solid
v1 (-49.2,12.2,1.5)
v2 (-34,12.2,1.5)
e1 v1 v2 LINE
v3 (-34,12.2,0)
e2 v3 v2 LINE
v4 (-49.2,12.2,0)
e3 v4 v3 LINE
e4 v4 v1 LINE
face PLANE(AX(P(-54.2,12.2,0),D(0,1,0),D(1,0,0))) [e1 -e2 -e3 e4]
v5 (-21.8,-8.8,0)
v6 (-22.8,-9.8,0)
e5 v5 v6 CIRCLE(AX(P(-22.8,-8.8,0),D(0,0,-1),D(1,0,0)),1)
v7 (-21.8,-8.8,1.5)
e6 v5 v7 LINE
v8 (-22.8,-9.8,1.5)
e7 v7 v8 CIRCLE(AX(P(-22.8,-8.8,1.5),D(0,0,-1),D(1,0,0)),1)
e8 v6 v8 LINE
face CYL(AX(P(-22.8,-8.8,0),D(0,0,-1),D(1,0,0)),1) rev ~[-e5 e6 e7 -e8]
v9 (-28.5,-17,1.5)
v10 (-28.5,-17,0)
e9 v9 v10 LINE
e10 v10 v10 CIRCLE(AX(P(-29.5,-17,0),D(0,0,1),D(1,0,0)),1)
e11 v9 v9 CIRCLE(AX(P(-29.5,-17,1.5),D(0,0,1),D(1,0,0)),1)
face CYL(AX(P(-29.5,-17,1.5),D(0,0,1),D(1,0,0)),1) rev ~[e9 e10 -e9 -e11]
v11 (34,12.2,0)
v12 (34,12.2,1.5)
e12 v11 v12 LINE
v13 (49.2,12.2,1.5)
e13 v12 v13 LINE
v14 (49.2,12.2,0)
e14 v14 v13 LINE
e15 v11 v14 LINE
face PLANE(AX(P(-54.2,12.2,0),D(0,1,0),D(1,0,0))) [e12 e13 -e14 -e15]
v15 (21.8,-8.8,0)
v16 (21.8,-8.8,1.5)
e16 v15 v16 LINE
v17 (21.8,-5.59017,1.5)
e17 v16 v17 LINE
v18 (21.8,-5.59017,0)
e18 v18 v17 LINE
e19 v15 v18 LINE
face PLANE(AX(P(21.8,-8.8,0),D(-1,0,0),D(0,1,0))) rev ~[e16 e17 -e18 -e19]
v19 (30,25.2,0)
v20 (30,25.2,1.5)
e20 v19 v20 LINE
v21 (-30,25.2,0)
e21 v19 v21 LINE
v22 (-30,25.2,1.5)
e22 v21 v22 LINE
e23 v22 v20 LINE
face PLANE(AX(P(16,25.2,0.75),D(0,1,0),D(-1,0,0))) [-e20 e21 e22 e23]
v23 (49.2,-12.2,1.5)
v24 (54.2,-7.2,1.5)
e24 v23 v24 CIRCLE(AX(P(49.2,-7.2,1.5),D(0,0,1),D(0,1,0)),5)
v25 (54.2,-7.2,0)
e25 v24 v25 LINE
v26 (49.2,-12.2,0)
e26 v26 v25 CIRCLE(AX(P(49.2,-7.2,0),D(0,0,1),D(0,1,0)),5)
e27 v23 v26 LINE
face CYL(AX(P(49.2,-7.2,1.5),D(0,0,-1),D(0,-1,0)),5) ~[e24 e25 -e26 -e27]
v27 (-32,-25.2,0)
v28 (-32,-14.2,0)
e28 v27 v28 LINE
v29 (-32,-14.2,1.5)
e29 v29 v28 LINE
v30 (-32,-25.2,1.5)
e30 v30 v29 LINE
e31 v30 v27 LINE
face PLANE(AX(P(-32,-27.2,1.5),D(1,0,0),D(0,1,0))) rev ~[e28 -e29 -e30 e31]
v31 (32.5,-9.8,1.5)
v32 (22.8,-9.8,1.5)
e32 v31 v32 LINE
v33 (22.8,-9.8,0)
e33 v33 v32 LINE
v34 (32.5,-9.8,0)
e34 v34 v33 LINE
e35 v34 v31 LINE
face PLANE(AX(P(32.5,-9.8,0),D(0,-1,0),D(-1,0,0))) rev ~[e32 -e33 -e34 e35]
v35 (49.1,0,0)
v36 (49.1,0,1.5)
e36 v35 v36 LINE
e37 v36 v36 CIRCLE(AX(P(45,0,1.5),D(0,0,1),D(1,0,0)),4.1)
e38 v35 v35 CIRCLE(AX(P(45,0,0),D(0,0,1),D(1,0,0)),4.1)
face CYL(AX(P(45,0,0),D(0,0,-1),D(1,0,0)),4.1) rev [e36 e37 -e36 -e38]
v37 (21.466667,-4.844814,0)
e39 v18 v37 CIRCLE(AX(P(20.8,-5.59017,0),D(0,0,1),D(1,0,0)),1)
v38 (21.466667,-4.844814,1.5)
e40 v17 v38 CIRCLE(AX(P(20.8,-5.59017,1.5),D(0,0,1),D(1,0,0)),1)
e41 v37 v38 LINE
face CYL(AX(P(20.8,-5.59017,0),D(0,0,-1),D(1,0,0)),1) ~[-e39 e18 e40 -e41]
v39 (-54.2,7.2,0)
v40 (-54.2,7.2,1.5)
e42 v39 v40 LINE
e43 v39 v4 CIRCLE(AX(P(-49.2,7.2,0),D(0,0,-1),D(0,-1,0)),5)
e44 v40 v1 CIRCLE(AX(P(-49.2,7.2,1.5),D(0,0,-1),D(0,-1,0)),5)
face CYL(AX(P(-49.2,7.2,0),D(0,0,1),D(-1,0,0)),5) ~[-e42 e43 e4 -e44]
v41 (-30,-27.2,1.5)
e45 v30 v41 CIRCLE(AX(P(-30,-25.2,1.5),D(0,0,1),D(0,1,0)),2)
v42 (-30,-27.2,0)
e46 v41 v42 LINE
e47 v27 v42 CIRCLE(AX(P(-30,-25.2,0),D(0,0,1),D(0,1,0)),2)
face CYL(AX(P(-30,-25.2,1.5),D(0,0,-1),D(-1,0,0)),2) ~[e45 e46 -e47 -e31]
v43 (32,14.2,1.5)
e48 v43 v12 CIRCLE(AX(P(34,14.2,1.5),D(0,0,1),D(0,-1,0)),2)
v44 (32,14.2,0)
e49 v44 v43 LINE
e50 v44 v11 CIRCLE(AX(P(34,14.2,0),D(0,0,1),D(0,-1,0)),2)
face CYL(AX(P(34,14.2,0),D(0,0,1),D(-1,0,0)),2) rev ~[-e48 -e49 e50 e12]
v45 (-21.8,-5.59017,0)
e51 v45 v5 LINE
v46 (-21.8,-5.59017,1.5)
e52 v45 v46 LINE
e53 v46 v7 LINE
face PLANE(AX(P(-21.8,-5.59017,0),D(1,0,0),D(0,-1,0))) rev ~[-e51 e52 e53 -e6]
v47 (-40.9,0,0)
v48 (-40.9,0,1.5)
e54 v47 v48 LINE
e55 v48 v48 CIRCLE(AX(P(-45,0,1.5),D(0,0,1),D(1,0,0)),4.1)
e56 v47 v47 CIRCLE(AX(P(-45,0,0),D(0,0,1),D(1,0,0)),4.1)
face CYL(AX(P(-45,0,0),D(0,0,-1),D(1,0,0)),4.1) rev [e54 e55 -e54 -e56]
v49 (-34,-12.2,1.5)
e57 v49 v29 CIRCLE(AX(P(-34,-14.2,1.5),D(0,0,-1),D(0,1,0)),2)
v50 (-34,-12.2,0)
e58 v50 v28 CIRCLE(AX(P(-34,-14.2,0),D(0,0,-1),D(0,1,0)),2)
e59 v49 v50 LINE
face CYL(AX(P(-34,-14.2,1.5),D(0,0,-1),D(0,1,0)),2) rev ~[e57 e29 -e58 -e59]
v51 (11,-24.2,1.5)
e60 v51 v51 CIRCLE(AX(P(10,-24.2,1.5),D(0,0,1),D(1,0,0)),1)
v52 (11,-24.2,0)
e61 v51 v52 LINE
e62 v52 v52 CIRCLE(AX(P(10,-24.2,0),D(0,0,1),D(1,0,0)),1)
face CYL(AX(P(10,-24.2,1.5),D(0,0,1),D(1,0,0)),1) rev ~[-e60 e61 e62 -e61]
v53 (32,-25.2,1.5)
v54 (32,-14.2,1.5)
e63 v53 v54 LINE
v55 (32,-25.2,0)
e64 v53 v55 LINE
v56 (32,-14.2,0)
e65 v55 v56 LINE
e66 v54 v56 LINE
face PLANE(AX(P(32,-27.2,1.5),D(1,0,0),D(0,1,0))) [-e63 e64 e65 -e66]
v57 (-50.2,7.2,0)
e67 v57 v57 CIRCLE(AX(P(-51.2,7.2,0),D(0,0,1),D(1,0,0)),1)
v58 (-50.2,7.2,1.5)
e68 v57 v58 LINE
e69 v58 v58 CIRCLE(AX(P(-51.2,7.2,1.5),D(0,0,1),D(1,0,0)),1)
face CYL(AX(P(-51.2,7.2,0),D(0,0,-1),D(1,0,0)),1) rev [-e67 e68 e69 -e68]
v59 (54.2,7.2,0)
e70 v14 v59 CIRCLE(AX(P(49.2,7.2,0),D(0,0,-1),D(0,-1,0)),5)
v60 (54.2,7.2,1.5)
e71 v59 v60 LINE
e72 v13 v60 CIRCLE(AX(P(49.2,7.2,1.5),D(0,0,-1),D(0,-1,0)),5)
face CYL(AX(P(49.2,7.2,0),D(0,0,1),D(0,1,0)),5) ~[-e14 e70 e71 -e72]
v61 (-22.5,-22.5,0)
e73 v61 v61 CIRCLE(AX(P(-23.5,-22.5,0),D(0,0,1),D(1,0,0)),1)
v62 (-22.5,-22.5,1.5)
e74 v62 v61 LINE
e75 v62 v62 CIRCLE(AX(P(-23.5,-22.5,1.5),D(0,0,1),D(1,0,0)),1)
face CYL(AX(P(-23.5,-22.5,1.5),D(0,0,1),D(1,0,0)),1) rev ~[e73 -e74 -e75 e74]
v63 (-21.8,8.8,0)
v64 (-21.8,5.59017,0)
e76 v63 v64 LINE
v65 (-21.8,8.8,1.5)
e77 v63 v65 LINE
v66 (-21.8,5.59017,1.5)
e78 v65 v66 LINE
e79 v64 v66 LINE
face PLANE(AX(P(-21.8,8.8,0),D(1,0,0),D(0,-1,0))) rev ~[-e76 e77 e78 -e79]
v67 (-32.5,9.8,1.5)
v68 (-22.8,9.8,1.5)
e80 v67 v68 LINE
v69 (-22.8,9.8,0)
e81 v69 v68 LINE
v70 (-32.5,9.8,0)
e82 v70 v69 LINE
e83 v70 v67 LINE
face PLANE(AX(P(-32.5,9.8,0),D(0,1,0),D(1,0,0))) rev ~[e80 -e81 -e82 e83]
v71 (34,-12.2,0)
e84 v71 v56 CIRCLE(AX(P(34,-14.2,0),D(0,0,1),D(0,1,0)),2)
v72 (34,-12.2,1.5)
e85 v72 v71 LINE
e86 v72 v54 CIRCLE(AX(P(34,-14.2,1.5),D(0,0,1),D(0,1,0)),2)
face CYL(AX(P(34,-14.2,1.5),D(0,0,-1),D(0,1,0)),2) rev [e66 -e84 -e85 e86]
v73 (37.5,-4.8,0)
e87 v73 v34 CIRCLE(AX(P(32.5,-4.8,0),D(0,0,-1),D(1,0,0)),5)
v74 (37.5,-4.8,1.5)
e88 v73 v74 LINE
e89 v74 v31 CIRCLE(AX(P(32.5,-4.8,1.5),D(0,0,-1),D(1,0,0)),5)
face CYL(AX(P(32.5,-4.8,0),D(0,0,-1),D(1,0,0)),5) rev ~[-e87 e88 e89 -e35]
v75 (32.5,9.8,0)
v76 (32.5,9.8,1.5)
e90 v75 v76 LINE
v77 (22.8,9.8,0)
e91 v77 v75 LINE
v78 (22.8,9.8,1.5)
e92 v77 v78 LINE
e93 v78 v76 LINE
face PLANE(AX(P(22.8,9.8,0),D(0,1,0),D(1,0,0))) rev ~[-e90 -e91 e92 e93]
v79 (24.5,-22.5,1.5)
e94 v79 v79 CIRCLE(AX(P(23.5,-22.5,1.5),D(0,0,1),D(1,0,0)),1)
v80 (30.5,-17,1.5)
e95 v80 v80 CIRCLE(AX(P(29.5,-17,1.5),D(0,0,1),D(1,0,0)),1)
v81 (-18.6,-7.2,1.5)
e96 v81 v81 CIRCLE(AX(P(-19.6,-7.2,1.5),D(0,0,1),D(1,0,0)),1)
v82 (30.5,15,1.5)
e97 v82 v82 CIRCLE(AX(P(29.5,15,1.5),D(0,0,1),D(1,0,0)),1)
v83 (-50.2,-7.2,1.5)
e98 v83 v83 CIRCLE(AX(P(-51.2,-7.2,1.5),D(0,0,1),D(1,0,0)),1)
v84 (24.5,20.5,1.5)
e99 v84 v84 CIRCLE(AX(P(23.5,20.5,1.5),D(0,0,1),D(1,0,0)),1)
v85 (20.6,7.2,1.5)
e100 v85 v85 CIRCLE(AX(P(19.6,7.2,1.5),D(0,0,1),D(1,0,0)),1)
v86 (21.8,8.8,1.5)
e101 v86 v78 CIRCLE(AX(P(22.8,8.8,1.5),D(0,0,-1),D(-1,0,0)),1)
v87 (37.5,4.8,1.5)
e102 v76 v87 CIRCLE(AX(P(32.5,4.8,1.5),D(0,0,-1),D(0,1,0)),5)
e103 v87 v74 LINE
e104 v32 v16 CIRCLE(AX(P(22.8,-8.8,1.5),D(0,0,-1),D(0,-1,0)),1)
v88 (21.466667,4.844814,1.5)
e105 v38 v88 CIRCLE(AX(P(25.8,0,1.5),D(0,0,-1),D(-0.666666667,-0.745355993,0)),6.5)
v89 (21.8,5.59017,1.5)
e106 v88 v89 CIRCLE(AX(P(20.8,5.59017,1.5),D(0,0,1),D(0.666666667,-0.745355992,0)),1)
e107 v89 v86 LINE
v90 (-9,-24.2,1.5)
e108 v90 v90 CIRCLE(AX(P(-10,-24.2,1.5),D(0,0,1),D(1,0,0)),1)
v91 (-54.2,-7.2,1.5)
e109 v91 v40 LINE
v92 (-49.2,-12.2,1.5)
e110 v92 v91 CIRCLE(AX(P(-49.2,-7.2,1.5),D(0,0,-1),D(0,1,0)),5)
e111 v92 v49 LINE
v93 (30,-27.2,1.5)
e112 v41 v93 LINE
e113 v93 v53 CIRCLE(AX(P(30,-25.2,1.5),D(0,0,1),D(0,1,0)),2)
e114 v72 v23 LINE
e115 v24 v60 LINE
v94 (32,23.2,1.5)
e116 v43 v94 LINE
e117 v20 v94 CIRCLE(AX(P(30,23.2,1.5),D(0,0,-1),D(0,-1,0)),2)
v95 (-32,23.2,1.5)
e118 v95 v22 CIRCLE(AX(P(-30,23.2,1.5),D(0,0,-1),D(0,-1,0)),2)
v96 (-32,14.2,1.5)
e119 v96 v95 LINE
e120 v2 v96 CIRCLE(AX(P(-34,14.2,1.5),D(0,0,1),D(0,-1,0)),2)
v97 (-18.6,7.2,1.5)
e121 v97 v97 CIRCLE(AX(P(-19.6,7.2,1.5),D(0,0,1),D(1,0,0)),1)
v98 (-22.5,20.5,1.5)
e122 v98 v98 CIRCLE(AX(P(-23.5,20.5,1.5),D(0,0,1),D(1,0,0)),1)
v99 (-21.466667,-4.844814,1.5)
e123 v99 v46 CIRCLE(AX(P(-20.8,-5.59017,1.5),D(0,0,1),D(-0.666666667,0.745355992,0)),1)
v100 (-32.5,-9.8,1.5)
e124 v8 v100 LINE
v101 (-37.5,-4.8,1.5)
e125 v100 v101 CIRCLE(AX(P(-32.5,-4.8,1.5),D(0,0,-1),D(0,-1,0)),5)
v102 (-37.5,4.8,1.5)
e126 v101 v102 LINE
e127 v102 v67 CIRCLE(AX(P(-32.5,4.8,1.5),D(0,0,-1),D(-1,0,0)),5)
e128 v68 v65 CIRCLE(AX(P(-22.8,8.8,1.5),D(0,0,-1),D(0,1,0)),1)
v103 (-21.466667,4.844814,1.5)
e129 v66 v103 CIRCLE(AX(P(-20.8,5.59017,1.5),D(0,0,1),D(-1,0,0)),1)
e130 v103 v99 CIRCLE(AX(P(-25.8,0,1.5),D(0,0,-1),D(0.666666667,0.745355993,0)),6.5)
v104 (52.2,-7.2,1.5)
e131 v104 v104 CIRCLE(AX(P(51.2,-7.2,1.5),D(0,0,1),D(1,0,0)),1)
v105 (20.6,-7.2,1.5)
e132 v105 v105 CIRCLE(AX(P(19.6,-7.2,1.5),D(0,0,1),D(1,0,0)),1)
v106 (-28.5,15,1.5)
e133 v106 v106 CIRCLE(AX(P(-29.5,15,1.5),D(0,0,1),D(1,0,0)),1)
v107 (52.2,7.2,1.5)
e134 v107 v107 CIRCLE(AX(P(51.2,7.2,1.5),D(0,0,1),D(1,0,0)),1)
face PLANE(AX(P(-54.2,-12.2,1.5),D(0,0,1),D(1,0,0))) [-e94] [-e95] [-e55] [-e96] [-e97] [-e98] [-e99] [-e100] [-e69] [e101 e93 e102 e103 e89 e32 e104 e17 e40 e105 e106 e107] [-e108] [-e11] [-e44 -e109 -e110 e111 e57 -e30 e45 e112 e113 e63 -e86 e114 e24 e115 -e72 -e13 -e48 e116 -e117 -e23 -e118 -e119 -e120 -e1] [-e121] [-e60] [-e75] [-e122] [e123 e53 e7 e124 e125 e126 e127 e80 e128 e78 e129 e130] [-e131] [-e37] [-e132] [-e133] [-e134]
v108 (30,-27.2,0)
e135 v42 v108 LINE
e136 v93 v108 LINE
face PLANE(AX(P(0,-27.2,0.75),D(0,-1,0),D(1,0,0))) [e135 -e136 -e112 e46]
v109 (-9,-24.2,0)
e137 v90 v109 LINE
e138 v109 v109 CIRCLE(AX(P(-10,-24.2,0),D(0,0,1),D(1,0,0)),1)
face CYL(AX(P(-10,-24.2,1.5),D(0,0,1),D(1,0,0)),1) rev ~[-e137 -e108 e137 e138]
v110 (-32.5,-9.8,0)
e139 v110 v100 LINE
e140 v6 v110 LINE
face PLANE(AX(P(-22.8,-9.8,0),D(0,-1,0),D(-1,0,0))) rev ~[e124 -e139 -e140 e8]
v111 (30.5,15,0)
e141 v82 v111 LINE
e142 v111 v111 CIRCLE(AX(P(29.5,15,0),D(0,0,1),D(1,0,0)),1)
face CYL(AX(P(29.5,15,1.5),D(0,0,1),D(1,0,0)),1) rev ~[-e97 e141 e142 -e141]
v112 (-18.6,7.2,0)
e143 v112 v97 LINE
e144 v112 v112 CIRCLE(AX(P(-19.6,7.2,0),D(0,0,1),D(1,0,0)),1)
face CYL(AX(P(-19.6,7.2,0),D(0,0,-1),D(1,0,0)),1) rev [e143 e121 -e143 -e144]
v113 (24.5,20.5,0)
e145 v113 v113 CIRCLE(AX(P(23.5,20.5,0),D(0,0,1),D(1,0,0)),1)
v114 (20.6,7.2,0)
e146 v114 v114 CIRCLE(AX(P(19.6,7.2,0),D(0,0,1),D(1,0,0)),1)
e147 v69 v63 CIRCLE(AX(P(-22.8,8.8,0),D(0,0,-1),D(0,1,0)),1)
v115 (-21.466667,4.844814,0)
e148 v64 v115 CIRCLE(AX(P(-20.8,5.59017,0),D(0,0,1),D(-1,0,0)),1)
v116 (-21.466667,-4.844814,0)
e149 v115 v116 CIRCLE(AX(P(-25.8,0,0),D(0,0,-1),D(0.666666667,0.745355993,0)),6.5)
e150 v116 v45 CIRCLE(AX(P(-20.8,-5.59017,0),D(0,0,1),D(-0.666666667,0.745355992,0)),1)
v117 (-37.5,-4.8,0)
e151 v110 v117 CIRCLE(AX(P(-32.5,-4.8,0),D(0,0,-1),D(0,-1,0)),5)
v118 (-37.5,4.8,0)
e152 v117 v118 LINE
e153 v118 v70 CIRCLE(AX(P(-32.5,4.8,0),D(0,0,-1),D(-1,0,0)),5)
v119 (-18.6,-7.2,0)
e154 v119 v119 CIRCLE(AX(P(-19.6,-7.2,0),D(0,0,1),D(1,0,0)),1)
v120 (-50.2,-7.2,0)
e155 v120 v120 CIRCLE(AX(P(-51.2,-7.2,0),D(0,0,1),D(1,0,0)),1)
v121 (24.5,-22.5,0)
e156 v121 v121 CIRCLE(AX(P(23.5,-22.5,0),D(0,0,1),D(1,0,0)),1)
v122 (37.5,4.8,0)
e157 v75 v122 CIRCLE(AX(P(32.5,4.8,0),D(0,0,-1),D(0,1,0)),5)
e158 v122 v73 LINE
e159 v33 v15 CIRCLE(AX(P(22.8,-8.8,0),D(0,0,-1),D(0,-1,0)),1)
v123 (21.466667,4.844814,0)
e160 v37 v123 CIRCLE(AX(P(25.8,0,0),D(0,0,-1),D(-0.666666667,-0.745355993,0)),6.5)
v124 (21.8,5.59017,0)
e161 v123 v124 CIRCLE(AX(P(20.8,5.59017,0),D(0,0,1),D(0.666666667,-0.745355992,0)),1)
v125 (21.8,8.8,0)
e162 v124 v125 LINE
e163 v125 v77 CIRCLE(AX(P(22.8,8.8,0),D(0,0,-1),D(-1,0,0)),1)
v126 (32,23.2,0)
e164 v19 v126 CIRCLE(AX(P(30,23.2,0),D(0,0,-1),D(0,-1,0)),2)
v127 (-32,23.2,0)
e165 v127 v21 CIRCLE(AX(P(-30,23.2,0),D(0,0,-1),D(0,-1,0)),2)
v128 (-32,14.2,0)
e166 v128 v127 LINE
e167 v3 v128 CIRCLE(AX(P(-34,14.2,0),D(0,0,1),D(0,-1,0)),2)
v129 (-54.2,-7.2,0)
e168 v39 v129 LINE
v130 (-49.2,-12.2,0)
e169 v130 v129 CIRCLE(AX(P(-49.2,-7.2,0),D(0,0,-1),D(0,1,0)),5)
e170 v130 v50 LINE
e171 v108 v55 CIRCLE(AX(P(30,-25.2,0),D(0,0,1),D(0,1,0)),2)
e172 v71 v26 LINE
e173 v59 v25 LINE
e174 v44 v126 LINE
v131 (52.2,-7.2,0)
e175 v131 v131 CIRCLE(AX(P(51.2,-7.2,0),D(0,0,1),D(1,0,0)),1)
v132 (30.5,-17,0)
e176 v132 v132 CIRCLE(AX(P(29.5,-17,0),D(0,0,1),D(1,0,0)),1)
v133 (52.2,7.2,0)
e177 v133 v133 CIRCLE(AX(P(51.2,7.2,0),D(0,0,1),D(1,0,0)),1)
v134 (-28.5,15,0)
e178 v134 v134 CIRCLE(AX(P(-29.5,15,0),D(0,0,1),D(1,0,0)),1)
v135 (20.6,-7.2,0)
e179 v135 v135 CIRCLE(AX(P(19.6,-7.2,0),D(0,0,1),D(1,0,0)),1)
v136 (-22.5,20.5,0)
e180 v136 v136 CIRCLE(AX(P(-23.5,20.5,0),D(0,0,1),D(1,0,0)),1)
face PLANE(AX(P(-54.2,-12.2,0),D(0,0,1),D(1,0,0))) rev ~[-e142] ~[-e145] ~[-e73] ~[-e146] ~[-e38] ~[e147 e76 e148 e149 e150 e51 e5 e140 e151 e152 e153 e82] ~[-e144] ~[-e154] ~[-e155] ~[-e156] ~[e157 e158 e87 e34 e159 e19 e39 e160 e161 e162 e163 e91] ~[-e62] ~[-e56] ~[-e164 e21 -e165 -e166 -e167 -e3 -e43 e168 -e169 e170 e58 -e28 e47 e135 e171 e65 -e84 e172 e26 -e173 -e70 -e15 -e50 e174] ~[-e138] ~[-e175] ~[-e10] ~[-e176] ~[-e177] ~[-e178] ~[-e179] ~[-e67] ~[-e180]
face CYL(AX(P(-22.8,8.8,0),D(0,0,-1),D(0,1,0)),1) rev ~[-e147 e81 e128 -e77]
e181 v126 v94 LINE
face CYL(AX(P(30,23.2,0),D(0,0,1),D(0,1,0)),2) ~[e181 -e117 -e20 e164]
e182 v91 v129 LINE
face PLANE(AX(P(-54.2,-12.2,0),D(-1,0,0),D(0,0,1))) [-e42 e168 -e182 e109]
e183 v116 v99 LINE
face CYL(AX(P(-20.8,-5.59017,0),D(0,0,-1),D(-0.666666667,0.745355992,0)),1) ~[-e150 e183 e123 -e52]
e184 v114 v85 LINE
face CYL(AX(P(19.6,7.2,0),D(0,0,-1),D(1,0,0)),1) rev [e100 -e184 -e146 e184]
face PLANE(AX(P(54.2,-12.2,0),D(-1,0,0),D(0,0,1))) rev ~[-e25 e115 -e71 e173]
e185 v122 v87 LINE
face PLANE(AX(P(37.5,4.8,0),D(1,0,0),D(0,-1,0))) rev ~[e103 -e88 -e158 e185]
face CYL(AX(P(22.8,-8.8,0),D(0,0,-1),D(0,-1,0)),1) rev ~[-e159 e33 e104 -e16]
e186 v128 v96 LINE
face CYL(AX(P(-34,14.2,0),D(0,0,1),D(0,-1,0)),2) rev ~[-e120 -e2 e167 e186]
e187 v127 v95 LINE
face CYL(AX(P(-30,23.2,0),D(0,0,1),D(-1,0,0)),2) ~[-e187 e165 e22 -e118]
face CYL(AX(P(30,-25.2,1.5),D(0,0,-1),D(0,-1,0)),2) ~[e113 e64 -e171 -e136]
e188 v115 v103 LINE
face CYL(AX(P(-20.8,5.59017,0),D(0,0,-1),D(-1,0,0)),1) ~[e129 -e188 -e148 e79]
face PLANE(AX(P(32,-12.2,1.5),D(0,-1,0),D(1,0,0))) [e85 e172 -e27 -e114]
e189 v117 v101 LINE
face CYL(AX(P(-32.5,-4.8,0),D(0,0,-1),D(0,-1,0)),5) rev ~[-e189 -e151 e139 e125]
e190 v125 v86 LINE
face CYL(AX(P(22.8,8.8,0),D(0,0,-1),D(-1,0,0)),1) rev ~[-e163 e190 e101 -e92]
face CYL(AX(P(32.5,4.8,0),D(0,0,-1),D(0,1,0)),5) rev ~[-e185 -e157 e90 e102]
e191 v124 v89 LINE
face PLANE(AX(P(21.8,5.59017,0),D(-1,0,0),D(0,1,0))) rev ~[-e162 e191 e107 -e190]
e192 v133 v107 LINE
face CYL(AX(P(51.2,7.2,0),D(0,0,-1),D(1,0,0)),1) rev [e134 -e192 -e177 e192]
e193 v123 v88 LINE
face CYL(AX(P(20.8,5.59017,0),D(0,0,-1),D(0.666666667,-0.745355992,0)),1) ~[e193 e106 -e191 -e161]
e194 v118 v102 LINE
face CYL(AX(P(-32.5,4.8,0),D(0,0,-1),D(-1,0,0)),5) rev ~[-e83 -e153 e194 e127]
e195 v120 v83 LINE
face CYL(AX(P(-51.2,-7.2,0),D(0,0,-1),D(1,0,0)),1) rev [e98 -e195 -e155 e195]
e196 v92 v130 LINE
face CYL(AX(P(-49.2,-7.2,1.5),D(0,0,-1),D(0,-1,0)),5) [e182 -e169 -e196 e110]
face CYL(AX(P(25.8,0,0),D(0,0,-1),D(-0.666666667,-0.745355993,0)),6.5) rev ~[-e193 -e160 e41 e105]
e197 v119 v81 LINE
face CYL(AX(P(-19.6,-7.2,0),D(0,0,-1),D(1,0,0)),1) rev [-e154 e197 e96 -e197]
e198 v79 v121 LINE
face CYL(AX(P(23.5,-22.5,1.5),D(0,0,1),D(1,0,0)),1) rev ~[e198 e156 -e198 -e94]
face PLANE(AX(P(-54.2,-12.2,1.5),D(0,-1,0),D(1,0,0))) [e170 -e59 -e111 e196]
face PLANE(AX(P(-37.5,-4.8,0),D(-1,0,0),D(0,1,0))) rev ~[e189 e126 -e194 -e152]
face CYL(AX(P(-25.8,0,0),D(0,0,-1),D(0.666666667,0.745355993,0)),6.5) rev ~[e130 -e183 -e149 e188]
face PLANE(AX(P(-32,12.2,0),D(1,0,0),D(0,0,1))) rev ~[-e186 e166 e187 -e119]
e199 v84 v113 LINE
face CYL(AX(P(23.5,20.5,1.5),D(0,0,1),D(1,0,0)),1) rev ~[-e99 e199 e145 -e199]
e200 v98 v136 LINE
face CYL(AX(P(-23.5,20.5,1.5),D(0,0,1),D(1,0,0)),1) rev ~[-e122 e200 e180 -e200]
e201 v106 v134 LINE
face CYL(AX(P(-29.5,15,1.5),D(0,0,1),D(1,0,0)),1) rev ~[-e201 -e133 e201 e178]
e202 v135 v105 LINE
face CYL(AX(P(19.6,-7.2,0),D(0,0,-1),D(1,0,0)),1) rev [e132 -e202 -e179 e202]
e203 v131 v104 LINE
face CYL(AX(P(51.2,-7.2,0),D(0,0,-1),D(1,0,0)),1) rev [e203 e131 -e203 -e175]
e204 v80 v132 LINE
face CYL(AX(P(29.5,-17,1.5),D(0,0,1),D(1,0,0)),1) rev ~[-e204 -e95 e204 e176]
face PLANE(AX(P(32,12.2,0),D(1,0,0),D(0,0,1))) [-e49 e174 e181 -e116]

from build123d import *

# Parameters (mm, degrees)
F0_W      = 108.4
F0_H      = 24.4
F0_R      = 1
F0_R_2    = 4.1
F1_DEPTH  = 1.5
F2_W      = 108.4
F2_H      = 1.5
F3_DEPTH  = 15
F4_W      = 22.2
F4_H      = 15
F5_DEPTH  = 1.5
F7_R      = 2
F8_R      = 5
F9_W      = 32
F9_H      = 1.5
F10_DEPTH = 13
F6_R      = 1
F11_DEPTH = 1.5
F12_R     = 1
F13_DEPTH = 1.5
F14_R     = 2


with BuildPart() as f1:
    # F0 (on Top) → F1 (new body)
    with BuildSketch(Plane.XY):
        Rectangle(F0_W, F0_H)
        with Locations((-51.2, -7.2)):
            Circle(F0_R, mode=Mode.SUBTRACT)
        with Locations((-19.6, -7.2)):
            Circle(F0_R, mode=Mode.SUBTRACT)
        with Locations((19.6, -7.2)):
            Circle(F0_R, mode=Mode.SUBTRACT)
        with Locations((51.2, -7.2)):
            Circle(F0_R, mode=Mode.SUBTRACT)
        with Locations((-45, 0)):
            Circle(F0_R_2, mode=Mode.SUBTRACT)
        with BuildLine():
            ThreePointArc((-37.5, 4.8), (-36.0355339059, 8.3355339059), (-32.5, 9.8))
            Line((-32.5, 9.8), (-22.8, 9.8))
            ThreePointArc((-22.8, 9.8), (-22.0928932188, 9.5071067812), (-21.8, 8.8))
            Line((-21.8, 8.8), (-21.8, 5.5901699437))
            ThreePointArc((-21.8, 5.5901699437), (-21.7128709292, 5.1819216533), (-21.4666666667, 4.8448139512))
            ThreePointArc((-21.4666666667, 4.8448139512), (-19.3, 0), (-21.4666666667, -4.8448139512))
            ThreePointArc((-21.4666666667, -4.8448139512), (-21.7128709292, -5.1819216533), (-21.8, -5.5901699437))
            Line((-21.8, -5.5901699437), (-21.8, -8.8))
            ThreePointArc((-21.8, -8.8), (-22.0928932188, -9.5071067812), (-22.8, -9.8))
            Line((-22.8, -9.8), (-32.5, -9.8))
            ThreePointArc((-32.5, -9.8), (-36.0355339059, -8.3355339059), (-37.5, -4.8))
            Line((-37.5, -4.8), (-37.5, 4.8))
        make_face(mode=Mode.SUBTRACT)
        with Locations((-51.2, 7.2)):
            Circle(F0_R, mode=Mode.SUBTRACT)
        with Locations((-19.6, 7.2)):
            Circle(F0_R, mode=Mode.SUBTRACT)
        with BuildLine():
            Line((21.8, 5.5901699437), (21.8, 8.8))
            ThreePointArc((21.8, 8.8), (22.0928932188, 9.5071067812), (22.8, 9.8))
            Line((22.8, 9.8), (32.5, 9.8))
            ThreePointArc((32.5, 9.8), (36.0355339059, 8.3355339059), (37.5, 4.8))
            Line((37.5, 4.8), (37.5, -4.8))
            ThreePointArc((37.5, -4.8), (36.0355339059, -8.3355339059), (32.5, -9.8))
            Line((32.5, -9.8), (22.8, -9.8))
            ThreePointArc((22.8, -9.8), (22.0928932188, -9.5071067812), (21.8, -8.8))
            Line((21.8, -8.8), (21.8, -5.5901699437))
            ThreePointArc((21.8, -5.5901699437), (21.7128709292, -5.1819216533), (21.4666666667, -4.8448139512))
            ThreePointArc((21.4666666667, -4.8448139512), (19.3, 0), (21.4666666667, 4.8448139512))
            ThreePointArc((21.4666666667, 4.8448139512), (21.7128709292, 5.1819216533), (21.8, 5.5901699437))
        make_face(mode=Mode.SUBTRACT)
        with Locations((45, 0)):
            Circle(F0_R_2, mode=Mode.SUBTRACT)
        with Locations((19.6, 7.2)):
            Circle(F0_R, mode=Mode.SUBTRACT)
        with Locations((51.2, 7.2)):
            Circle(F0_R, mode=Mode.SUBTRACT)
    extrude(amount=F1_DEPTH)

    # F2 (on face) → F3 (join)
    with BuildSketch(Plane.XZ.offset(12.2)):
        with Locations((0, 0.75)):
            Rectangle(F2_W, F2_H)
    extrude(amount=F3_DEPTH)

    # F4 (on face) → F5 (cut, through all)
    with BuildSketch(Plane.XY.offset(1.5)):
        with Locations((-43.1, -19.7)):
            Rectangle(F4_W, F4_H)
        with Locations((43.1, -19.7)):
            Rectangle(F4_W, F4_H)
    extrude(amount=-F5_DEPTH, mode=Mode.SUBTRACT)

    # F7
    f7_edges = [f1.edges().sort_by_distance(p)[0] for p in [
        (-32, -12.2, 0.75),
        (32, -12.2, 0.75),
    ]]
    fillet(f7_edges, radius=F7_R)

    # F8
    f8_edges = [f1.edges().sort_by_distance(p)[0] for p in [
        (-54.2, 12.2, 0.75),
        (-54.2, -12.2, 0.75),
        (54.2, 12.2, 0.75),
        (54.2, -12.2, 0.75),
    ]]
    fillet(f8_edges, radius=F8_R)

    # F9 (on face) → F10 (join)
    with BuildSketch(Plane(origin=(0, 12.2, 0), x_dir=(-1, 0, 0), z_dir=(0, 1, 0))):
        with Locations((-16, 0.75)):
            Rectangle(F9_W, F9_H)
        with Locations((16, 0.75)):
            Rectangle(F9_W, F9_H)
    extrude(amount=F10_DEPTH)

    # F6 (on face) → F11 (cut, through all)
    with BuildSketch(Plane.XY.offset(1.5)):
        with Locations((-10, -24.2)):
            Circle(F6_R)
        with Locations((10, -24.2)):
            Circle(F6_R)
    extrude(amount=-F11_DEPTH, mode=Mode.SUBTRACT)

    # F12 (on face) → F13 (cut, through all)
    with BuildSketch(Plane.XY.offset(1.5)):
        with Locations((-23.5, 20.5)):
            Circle(F12_R)
        with Locations((23.5, 20.5)):
            Circle(F12_R)
        with Locations((-23.5, -22.5)):
            Circle(F12_R)
        with Locations((23.5, -22.5)):
            Circle(F12_R)
        with Locations((-29.5, 15)):
            Circle(F12_R)
        with Locations((-29.5, -17)):
            Circle(F12_R)
        with Locations((29.5, 15)):
            Circle(F12_R)
        with Locations((29.5, -17)):
            Circle(F12_R)
    extrude(amount=-F13_DEPTH, mode=Mode.SUBTRACT)

    # F14
    f14_edges = [f1.edges().sort_by_distance(p)[0] for p in [
        (-32, -27.2, 0.75),
        (32, -27.2, 0.75),
        (32, 25.2, 0.75),
        (32, 12.2, 0.75),
        (-32, 12.2, 0.75),
        (-32, 25.2, 0.75),
    ]]
    fillet(f14_edges, radius=F14_R)


solid = f1.part
